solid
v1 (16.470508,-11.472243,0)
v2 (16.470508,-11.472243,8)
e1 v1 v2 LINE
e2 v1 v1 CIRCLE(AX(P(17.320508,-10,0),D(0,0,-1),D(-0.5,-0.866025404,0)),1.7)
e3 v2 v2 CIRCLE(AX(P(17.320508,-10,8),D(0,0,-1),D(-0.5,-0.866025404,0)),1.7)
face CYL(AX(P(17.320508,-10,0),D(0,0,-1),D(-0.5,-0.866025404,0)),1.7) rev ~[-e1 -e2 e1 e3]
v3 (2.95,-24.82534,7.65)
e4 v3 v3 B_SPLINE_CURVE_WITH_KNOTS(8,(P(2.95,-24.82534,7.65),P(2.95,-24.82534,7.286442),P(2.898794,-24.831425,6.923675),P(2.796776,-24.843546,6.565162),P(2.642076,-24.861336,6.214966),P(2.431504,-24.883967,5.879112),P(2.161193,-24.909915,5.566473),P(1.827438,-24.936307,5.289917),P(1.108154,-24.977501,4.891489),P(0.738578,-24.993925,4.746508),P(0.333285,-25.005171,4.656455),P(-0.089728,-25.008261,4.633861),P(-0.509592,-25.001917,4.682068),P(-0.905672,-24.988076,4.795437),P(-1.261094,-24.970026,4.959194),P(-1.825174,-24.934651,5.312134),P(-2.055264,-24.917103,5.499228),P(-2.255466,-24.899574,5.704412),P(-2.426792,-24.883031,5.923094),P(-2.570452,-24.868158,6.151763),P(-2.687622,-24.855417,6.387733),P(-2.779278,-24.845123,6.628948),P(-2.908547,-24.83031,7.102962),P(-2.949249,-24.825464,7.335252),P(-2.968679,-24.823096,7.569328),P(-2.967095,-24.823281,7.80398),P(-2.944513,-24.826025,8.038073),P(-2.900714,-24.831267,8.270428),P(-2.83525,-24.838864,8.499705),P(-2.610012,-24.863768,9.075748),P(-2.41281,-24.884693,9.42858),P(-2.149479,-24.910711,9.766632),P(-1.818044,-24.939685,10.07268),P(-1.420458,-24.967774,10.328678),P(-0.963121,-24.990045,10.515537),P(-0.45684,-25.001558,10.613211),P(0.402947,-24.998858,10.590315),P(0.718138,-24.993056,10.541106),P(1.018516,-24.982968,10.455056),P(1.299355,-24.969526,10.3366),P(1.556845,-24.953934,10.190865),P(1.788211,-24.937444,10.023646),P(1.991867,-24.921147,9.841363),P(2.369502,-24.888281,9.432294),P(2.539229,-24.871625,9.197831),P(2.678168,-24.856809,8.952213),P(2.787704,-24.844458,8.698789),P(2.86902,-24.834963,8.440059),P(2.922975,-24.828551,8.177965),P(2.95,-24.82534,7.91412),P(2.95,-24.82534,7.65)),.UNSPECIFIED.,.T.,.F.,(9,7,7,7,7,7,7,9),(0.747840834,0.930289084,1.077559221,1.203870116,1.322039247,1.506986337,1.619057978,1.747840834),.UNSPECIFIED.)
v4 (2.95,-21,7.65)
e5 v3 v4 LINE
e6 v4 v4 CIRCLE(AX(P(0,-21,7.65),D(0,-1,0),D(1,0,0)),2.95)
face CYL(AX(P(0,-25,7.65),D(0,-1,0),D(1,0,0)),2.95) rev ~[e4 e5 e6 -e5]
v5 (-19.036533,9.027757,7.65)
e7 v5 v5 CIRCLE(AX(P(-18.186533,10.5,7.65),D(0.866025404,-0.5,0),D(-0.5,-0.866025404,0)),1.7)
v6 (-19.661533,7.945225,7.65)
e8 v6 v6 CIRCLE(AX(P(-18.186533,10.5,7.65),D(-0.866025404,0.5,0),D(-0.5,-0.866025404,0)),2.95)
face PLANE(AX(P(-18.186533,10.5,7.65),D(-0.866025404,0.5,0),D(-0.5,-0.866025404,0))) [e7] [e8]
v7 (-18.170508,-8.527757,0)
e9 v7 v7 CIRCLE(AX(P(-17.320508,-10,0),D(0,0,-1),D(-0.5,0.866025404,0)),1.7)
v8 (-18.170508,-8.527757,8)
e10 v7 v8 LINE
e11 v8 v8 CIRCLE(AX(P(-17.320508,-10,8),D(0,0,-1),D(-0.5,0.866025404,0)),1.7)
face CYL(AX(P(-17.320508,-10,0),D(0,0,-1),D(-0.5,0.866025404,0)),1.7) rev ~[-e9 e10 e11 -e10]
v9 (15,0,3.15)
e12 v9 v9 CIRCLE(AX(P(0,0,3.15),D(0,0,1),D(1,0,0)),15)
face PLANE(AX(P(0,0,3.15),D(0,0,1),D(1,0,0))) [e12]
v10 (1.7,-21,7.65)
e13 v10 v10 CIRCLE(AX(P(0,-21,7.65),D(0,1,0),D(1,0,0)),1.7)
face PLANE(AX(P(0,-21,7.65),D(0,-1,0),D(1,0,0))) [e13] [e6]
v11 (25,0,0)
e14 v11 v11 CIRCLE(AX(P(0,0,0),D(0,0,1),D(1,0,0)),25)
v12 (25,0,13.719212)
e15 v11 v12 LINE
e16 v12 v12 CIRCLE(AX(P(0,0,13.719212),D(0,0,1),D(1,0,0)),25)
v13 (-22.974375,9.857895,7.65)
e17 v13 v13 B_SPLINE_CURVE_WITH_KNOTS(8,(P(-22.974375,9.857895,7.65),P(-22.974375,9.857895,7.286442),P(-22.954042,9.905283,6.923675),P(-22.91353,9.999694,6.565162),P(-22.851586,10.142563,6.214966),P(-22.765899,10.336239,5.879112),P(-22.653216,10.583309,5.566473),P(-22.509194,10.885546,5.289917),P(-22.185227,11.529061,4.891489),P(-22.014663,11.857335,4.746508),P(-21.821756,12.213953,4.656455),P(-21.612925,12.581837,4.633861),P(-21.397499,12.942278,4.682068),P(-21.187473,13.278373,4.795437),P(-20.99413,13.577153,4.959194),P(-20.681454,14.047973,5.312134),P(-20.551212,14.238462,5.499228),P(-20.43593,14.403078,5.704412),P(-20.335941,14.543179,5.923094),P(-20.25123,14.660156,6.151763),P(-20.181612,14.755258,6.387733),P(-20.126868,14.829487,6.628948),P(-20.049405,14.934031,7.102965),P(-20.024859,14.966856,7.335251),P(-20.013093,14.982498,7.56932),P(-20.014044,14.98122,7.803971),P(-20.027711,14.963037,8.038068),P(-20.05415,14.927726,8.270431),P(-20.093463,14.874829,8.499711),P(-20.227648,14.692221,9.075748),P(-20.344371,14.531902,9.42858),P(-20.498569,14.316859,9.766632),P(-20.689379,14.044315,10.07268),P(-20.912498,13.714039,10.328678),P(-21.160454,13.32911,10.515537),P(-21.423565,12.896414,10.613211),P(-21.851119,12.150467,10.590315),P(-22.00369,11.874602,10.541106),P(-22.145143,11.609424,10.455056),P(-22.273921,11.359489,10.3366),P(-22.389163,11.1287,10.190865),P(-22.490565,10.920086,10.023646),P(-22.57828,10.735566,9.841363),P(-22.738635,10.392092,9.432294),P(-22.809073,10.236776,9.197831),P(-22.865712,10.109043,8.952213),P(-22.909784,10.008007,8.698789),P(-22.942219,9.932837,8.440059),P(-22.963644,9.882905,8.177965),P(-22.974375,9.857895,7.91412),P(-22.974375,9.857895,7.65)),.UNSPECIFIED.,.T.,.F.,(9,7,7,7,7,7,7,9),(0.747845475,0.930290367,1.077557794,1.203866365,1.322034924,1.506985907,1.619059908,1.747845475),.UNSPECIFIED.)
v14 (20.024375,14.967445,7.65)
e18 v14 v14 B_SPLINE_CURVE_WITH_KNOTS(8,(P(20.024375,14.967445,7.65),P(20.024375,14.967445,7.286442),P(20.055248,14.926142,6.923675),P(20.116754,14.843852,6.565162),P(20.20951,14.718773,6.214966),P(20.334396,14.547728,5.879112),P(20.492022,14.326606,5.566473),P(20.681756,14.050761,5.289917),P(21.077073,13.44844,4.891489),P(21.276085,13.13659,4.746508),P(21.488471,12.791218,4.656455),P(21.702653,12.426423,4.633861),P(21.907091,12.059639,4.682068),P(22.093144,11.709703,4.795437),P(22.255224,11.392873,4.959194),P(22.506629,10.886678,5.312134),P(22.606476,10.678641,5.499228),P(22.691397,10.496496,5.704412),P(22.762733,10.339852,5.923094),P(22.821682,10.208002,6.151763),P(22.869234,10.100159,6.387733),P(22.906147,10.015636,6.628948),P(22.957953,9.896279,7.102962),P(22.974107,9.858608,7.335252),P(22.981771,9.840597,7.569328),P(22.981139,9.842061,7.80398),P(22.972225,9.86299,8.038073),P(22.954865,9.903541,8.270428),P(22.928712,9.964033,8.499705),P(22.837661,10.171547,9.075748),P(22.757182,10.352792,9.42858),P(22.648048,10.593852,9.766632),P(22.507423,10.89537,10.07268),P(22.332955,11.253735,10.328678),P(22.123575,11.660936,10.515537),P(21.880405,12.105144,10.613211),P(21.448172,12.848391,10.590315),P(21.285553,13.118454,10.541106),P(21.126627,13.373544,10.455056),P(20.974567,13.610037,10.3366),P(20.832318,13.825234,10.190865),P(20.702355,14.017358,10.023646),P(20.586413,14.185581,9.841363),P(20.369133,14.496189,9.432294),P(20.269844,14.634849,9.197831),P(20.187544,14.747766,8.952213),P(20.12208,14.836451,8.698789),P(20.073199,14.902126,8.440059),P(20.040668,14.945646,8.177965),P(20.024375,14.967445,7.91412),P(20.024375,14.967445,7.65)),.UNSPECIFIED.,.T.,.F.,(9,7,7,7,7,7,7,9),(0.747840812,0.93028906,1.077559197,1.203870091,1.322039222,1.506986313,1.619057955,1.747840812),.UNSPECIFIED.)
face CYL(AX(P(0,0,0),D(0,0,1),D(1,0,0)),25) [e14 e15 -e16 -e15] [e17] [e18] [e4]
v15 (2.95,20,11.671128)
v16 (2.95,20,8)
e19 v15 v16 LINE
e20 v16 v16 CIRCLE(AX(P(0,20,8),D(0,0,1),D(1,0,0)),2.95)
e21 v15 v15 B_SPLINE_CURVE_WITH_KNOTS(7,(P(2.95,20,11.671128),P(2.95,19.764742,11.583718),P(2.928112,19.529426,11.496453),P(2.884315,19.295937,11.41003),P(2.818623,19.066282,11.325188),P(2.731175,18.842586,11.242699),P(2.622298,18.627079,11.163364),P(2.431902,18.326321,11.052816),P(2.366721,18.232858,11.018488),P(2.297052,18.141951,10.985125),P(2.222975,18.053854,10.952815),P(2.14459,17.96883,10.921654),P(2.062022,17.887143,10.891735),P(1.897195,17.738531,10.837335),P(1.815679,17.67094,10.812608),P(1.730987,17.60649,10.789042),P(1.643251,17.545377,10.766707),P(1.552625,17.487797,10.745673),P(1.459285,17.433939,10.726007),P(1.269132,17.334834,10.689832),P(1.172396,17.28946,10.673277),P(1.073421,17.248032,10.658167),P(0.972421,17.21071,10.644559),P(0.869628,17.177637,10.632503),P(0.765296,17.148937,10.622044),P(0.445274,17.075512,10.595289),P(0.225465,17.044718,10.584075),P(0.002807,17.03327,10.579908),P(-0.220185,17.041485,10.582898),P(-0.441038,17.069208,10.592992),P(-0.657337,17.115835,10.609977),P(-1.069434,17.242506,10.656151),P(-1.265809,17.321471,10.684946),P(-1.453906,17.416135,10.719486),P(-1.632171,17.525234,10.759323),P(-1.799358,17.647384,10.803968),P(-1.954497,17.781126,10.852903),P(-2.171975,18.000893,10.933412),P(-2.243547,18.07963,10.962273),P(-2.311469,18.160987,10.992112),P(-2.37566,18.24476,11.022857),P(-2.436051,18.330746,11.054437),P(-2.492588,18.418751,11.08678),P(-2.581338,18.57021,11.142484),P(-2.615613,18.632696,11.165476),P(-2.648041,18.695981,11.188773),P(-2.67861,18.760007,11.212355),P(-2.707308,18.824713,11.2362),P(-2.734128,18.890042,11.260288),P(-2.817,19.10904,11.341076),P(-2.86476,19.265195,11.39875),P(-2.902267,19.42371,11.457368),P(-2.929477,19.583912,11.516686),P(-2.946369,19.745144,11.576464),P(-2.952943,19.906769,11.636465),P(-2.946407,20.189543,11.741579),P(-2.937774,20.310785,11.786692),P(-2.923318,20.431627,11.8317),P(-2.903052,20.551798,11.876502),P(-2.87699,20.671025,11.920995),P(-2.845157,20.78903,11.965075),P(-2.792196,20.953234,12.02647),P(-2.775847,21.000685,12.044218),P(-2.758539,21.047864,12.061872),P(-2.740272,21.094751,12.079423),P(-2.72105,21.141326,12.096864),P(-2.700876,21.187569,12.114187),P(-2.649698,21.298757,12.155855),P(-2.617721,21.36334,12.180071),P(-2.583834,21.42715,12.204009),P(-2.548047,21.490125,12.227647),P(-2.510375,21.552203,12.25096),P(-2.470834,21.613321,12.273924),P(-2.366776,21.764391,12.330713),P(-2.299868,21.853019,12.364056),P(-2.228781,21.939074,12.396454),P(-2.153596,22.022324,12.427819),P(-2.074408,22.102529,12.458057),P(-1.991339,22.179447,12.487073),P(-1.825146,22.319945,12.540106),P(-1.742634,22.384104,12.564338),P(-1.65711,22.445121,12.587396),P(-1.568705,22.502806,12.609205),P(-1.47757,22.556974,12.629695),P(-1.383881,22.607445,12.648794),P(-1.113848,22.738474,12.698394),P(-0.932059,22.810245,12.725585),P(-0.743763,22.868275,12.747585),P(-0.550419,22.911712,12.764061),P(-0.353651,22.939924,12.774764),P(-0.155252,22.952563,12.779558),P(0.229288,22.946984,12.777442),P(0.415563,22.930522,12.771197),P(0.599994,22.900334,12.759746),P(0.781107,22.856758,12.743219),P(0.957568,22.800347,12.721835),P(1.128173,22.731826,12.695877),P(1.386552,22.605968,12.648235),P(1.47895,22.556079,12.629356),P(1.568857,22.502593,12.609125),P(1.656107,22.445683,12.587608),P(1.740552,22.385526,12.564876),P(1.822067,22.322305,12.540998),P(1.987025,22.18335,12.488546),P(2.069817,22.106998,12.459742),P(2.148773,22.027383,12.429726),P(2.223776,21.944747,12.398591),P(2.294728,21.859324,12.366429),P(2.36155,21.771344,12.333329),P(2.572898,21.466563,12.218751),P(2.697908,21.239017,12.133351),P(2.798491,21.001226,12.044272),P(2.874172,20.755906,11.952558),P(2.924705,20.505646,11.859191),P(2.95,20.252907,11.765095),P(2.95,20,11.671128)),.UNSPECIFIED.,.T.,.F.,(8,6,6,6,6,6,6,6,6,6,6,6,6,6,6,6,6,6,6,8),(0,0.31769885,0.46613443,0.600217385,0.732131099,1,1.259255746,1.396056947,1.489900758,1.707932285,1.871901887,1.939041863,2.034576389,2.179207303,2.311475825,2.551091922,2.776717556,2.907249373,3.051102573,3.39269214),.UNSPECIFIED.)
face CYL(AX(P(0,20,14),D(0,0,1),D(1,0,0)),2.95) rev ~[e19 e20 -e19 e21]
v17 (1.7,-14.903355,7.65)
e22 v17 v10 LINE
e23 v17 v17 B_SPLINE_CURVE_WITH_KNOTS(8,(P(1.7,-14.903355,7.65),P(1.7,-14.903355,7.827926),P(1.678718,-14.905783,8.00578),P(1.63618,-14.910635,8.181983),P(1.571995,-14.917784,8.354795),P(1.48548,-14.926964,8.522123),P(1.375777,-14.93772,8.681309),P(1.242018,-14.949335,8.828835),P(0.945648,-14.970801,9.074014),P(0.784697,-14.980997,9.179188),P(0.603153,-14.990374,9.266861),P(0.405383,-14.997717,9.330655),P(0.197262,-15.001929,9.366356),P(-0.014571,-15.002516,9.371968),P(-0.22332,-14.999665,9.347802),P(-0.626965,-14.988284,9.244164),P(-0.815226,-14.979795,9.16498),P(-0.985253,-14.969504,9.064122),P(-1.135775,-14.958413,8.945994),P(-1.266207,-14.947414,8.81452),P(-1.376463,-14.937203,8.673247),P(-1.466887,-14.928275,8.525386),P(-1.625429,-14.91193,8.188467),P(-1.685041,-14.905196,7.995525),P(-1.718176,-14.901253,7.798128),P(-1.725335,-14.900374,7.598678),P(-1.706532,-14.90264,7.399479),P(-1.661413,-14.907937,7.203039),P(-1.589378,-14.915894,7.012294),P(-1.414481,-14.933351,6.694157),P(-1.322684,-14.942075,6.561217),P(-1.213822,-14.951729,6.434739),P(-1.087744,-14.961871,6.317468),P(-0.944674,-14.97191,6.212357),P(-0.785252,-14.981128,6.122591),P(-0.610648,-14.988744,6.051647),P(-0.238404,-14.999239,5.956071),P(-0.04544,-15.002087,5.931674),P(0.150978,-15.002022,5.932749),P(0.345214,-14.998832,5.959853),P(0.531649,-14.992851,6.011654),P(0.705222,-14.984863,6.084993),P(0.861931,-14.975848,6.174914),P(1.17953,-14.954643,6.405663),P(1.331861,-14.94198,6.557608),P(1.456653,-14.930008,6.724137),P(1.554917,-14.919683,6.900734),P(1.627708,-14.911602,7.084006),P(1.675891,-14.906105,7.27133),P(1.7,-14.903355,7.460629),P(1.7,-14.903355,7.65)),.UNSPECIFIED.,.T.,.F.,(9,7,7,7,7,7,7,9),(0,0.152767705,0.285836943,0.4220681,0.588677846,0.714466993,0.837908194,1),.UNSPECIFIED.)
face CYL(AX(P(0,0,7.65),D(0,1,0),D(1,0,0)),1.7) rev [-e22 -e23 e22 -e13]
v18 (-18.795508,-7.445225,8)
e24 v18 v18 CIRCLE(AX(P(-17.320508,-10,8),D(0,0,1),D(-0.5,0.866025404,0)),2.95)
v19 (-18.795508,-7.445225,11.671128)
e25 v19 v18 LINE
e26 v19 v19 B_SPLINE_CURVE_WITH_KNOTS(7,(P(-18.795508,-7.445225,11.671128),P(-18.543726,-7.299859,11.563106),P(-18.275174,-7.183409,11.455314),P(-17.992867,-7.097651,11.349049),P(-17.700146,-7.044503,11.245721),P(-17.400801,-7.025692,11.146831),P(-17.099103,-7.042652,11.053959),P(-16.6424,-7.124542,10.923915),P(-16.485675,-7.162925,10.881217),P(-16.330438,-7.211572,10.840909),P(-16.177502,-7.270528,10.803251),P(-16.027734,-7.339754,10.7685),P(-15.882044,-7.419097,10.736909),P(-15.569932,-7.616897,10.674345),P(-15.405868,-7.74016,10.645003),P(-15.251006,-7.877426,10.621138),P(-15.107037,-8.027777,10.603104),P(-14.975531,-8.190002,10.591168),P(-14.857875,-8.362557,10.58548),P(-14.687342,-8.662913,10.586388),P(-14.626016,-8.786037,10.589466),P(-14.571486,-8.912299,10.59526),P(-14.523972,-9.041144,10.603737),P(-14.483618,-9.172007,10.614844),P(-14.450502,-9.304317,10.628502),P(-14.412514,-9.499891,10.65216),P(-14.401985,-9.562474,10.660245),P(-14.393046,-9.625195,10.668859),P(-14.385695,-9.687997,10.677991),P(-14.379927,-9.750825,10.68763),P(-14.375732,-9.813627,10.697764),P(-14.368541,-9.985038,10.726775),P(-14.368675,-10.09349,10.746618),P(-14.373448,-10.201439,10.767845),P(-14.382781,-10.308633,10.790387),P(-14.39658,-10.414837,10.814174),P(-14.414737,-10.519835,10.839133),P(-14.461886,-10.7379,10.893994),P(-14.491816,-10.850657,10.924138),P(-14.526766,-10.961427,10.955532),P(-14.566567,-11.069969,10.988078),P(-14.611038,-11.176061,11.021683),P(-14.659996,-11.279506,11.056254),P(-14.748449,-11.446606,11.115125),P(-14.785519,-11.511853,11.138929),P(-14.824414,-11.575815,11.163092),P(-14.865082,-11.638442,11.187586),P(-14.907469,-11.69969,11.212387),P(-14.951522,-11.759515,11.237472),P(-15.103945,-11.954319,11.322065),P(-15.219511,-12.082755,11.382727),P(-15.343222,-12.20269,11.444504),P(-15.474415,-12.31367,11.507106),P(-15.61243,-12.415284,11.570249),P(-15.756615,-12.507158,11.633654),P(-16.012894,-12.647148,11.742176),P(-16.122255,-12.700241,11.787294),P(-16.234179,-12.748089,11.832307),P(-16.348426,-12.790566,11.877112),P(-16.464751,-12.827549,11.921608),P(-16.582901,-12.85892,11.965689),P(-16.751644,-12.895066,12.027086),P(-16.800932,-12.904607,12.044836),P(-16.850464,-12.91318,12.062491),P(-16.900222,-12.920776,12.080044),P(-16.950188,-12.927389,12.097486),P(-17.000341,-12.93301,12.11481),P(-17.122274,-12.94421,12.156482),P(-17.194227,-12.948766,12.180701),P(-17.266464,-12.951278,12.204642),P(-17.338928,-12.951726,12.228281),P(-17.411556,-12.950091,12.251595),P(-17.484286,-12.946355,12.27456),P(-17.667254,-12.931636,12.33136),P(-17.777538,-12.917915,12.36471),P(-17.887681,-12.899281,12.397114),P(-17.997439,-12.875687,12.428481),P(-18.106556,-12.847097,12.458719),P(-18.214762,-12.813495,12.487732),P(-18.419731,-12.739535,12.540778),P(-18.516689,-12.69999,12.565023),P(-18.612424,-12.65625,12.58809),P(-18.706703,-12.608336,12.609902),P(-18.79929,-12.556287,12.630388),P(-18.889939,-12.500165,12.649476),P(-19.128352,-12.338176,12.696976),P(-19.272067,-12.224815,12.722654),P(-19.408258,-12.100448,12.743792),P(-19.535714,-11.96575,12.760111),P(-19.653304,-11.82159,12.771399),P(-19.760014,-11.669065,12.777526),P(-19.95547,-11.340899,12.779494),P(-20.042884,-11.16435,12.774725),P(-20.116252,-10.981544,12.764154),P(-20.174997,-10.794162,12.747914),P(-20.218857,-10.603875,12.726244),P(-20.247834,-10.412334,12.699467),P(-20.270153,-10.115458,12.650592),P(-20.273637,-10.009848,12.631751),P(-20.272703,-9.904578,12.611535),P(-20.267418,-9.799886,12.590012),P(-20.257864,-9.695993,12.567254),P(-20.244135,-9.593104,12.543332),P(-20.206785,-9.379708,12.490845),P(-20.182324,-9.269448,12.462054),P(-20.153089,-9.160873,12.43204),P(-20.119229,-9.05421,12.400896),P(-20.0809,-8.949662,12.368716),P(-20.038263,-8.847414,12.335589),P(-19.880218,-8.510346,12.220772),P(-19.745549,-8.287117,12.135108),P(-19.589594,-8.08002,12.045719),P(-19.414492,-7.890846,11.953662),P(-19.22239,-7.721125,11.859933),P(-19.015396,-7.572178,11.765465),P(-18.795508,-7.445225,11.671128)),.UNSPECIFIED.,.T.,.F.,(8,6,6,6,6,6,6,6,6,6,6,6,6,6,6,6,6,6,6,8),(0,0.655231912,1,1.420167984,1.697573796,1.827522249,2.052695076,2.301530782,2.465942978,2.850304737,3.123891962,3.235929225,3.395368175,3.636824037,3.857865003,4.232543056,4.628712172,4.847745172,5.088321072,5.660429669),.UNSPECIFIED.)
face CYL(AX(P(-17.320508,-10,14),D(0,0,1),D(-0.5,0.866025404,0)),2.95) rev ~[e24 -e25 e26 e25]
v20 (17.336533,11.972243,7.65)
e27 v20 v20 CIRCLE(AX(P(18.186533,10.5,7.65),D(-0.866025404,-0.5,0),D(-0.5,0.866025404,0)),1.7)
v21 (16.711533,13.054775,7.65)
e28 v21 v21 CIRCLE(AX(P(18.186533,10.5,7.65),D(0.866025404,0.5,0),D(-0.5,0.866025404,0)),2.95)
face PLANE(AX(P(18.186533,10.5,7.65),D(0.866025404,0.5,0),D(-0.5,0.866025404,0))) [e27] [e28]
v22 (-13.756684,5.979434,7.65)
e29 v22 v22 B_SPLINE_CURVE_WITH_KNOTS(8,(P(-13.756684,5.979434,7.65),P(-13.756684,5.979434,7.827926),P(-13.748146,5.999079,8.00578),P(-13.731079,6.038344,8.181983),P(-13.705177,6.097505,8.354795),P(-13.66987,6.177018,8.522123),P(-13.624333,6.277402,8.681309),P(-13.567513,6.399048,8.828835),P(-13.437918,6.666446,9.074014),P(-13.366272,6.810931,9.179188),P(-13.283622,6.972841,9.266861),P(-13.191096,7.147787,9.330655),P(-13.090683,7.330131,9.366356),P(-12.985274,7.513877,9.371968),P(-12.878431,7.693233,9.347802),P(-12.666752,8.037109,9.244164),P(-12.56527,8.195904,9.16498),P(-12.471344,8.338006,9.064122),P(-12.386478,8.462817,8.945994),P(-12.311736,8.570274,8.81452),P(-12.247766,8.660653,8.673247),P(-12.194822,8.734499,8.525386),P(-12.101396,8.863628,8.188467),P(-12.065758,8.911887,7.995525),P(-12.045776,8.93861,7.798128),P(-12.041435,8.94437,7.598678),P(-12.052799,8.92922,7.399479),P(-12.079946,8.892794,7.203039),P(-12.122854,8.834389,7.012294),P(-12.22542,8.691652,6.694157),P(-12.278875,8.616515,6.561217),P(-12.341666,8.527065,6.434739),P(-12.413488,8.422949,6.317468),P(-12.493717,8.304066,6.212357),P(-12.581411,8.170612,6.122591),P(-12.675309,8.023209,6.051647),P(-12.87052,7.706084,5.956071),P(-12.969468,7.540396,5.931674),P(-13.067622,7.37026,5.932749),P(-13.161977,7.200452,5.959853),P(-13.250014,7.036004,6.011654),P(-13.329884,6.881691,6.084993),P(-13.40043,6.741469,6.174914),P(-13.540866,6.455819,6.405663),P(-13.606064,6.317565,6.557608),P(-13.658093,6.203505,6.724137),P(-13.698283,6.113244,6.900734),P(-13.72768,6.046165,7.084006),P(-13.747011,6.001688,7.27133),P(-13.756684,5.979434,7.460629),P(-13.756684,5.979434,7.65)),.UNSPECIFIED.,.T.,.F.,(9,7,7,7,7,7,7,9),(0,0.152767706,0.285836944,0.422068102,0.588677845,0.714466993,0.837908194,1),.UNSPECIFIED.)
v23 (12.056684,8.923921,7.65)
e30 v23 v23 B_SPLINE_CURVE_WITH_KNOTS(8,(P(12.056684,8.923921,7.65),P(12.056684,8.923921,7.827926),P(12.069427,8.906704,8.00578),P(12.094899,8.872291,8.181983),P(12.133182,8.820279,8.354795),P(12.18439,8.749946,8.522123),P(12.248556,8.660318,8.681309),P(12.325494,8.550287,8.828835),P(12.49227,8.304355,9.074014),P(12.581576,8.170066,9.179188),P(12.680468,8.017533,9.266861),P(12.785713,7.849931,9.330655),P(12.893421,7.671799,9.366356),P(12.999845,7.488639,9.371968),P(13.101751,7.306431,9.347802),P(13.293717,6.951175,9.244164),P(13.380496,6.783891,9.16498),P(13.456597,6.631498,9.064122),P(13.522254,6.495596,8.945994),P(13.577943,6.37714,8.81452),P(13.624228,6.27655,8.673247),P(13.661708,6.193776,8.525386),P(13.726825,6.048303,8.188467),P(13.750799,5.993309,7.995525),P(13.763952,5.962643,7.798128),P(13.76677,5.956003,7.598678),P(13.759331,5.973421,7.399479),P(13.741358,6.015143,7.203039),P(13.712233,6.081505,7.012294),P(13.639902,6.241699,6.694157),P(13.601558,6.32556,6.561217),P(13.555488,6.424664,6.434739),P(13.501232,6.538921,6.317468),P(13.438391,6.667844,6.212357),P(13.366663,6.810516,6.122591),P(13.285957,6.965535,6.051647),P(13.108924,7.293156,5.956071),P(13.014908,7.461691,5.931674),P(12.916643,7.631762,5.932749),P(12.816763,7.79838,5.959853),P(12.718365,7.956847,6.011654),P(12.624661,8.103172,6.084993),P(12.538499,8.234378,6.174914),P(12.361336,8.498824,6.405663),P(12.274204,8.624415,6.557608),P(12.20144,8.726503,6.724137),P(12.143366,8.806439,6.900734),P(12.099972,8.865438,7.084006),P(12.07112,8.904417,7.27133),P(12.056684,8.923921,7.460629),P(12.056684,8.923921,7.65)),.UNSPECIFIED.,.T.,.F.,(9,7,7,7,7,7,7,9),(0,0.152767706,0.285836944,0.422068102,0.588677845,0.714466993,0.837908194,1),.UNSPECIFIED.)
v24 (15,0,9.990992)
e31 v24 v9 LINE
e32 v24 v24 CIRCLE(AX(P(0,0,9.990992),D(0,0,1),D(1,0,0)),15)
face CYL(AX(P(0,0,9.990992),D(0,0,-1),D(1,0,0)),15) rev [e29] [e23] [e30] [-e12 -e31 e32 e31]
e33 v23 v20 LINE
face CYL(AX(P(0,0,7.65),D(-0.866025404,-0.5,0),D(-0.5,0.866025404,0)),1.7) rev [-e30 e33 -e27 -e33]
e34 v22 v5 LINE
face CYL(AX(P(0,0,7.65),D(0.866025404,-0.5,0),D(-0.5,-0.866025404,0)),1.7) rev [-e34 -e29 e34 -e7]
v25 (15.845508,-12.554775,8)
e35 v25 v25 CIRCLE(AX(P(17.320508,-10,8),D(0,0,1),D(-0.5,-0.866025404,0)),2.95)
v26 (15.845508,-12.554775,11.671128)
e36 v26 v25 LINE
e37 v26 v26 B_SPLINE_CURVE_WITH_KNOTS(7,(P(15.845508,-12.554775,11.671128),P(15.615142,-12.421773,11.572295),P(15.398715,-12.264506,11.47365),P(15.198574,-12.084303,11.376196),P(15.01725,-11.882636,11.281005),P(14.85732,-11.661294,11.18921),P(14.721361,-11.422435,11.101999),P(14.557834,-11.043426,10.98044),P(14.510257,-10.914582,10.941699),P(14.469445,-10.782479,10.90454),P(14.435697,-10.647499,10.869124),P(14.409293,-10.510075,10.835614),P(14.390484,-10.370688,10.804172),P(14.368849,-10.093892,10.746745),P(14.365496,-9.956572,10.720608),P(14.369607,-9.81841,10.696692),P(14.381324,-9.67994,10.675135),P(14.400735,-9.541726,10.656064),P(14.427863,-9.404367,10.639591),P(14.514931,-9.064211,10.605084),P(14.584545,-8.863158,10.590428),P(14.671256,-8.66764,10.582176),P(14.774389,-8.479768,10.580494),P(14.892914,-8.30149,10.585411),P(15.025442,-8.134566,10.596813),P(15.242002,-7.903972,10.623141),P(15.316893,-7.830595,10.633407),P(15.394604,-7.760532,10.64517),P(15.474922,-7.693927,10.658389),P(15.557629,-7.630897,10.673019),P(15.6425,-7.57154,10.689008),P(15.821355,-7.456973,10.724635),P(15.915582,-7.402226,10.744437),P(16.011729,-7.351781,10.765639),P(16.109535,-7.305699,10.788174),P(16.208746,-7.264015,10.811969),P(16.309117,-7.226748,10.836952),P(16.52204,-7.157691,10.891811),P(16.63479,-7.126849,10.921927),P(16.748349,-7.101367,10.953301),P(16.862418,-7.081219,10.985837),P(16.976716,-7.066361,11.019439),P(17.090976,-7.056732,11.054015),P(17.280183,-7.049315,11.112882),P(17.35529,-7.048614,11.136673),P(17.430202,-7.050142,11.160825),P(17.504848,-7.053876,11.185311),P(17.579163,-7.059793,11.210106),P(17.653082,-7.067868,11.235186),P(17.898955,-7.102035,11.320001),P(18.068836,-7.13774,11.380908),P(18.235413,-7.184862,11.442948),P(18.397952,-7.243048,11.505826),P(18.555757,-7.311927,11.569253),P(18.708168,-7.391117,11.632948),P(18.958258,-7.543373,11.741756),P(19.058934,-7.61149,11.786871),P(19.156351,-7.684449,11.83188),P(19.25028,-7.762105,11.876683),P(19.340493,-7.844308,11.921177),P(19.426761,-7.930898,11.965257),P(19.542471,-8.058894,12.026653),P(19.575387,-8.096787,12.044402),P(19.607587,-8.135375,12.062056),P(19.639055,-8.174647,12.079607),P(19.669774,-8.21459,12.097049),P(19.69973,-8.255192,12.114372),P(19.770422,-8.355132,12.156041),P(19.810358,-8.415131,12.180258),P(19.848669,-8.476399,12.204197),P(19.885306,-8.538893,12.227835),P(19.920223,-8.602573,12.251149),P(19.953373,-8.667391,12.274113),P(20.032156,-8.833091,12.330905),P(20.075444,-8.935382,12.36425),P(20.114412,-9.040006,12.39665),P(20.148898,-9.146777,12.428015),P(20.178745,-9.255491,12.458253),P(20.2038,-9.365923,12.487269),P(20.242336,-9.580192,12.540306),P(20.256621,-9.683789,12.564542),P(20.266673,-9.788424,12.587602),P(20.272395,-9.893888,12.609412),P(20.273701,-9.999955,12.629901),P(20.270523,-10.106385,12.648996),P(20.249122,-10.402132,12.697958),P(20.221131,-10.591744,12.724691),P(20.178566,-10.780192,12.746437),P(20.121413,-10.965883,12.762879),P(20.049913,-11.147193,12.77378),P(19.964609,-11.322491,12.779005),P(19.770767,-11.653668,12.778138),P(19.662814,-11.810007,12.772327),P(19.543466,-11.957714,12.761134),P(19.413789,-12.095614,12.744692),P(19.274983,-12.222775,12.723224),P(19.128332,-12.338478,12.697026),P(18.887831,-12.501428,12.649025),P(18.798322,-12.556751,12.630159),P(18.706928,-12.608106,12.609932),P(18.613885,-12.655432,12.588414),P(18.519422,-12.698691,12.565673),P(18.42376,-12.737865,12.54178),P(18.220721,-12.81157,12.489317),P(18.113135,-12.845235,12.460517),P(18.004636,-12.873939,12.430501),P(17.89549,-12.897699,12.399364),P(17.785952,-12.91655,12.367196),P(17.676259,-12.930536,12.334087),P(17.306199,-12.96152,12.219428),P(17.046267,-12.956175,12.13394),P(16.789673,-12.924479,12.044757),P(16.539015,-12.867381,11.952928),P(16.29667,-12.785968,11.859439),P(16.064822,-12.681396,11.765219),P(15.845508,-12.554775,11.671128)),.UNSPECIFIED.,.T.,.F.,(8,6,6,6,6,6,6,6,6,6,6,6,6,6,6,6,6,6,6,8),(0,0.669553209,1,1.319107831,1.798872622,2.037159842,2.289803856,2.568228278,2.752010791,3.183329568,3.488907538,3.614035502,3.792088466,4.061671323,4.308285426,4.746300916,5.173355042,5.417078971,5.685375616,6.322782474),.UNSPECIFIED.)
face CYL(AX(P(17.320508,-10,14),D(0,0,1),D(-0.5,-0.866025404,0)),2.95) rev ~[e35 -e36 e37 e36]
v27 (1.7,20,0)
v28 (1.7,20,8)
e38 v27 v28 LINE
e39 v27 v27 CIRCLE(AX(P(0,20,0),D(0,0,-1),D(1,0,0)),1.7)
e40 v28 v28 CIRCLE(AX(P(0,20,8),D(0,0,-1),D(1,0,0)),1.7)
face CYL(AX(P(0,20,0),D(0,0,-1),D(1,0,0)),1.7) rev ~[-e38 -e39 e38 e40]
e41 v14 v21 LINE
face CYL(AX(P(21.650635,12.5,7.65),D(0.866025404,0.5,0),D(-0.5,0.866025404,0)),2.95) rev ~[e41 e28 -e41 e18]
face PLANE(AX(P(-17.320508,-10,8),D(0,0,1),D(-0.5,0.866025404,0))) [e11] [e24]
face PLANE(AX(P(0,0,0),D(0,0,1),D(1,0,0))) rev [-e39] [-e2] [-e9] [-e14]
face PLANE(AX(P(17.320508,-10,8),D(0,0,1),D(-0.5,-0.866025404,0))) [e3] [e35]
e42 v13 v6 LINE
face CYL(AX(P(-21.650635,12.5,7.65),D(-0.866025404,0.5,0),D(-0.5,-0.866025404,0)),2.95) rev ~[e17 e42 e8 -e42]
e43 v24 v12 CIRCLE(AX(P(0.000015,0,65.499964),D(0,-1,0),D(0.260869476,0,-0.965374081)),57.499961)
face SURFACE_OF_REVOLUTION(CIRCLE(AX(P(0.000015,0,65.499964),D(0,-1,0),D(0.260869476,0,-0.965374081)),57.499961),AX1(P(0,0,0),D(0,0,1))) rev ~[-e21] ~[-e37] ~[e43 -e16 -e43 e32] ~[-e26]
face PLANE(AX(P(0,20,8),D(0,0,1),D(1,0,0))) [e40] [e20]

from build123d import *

# Parameters (mm, degrees)
SKETCH001_R        = 1.7
POCKET_DEPTH       = 157.778767
SKETCH002_R        = 2.95
POCKET001_DEPTH    = 6
SKETCH003_R        = 1.7
POCKET002_DEPTH    = 169.059555
SKETCH004_R        = 2.95
POCKET003_DEPTH    = 4
POLARPATTERN_COUNT = 3


with BuildPart() as part:
    # Sketch → Revolution (revolve)
    with BuildSketch(Plane.XZ):
        with BuildLine():
            Line((15, 9.990992), (15, 3.15))
            Line((15, 3.15), (0, 3.15))
            Line((0, 3.15), (0, 0))
            Line((0, 0), (25, 0))
            Line((25, 0), (25, 13.719212))
            ThreePointArc((15, 9.990992), (20.086685, 11.622592), (25, 13.719212))
        make_face()
    revolve(axis=Axis((0, 0, 0), (0, 0, 1)))

    # Sketch001 (on Face3 of Revolution) → Pocket (cut, through all)
    with BuildSketch(Plane(origin=(0, 0, 0), x_dir=(1, 0, 0), z_dir=(0, 0, -1))):
        with Locations((0, -20)):
            Circle(SKETCH001_R)
    pocket = extrude(amount=-POCKET_DEPTH, mode=Mode.SUBTRACT)

    # Sketch002 (on DatumPlane) → Pocket001 (cut)
    with BuildSketch(Plane.XY.offset(14)):
        with Locations((0, 20)):
            Circle(SKETCH002_R)
    pocket001 = extrude(amount=-POCKET001_DEPTH, mode=Mode.SUBTRACT)

    # Sketch003 → Pocket002 (cut, through all)
    with BuildSketch(Plane.XZ):
        with Locations((0, 7.65)):
            Circle(SKETCH003_R)
    pocket002 = extrude(amount=POCKET002_DEPTH, mode=Mode.SUBTRACT)

    # Sketch004 (on DatumPlane) → Pocket003 (cut)
    with BuildSketch(Plane.XZ.offset(25)):
        with Locations((0, 7.65)):
            Circle(SKETCH004_R)
    pocket003 = extrude(amount=-POCKET003_DEPTH, mode=Mode.SUBTRACT)

    # PolarPattern: Pocket, Pocket001, Pocket002, Pocket003 ×3 about axis
    polarpattern_axis = Axis((0, 0, 0), (0, 0, -1))
    for i in range(1, POLARPATTERN_COUNT):
        add(pocket.rotate(polarpattern_axis, i * 360 / POLARPATTERN_COUNT), mode=Mode.SUBTRACT)
        add(pocket001.rotate(polarpattern_axis, i * 360 / POLARPATTERN_COUNT), mode=Mode.SUBTRACT)
        add(pocket002.rotate(polarpattern_axis, i * 360 / POLARPATTERN_COUNT), mode=Mode.SUBTRACT)
        add(pocket003.rotate(polarpattern_axis, i * 360 / POLARPATTERN_COUNT), mode=Mode.SUBTRACT)


solid = part.part
